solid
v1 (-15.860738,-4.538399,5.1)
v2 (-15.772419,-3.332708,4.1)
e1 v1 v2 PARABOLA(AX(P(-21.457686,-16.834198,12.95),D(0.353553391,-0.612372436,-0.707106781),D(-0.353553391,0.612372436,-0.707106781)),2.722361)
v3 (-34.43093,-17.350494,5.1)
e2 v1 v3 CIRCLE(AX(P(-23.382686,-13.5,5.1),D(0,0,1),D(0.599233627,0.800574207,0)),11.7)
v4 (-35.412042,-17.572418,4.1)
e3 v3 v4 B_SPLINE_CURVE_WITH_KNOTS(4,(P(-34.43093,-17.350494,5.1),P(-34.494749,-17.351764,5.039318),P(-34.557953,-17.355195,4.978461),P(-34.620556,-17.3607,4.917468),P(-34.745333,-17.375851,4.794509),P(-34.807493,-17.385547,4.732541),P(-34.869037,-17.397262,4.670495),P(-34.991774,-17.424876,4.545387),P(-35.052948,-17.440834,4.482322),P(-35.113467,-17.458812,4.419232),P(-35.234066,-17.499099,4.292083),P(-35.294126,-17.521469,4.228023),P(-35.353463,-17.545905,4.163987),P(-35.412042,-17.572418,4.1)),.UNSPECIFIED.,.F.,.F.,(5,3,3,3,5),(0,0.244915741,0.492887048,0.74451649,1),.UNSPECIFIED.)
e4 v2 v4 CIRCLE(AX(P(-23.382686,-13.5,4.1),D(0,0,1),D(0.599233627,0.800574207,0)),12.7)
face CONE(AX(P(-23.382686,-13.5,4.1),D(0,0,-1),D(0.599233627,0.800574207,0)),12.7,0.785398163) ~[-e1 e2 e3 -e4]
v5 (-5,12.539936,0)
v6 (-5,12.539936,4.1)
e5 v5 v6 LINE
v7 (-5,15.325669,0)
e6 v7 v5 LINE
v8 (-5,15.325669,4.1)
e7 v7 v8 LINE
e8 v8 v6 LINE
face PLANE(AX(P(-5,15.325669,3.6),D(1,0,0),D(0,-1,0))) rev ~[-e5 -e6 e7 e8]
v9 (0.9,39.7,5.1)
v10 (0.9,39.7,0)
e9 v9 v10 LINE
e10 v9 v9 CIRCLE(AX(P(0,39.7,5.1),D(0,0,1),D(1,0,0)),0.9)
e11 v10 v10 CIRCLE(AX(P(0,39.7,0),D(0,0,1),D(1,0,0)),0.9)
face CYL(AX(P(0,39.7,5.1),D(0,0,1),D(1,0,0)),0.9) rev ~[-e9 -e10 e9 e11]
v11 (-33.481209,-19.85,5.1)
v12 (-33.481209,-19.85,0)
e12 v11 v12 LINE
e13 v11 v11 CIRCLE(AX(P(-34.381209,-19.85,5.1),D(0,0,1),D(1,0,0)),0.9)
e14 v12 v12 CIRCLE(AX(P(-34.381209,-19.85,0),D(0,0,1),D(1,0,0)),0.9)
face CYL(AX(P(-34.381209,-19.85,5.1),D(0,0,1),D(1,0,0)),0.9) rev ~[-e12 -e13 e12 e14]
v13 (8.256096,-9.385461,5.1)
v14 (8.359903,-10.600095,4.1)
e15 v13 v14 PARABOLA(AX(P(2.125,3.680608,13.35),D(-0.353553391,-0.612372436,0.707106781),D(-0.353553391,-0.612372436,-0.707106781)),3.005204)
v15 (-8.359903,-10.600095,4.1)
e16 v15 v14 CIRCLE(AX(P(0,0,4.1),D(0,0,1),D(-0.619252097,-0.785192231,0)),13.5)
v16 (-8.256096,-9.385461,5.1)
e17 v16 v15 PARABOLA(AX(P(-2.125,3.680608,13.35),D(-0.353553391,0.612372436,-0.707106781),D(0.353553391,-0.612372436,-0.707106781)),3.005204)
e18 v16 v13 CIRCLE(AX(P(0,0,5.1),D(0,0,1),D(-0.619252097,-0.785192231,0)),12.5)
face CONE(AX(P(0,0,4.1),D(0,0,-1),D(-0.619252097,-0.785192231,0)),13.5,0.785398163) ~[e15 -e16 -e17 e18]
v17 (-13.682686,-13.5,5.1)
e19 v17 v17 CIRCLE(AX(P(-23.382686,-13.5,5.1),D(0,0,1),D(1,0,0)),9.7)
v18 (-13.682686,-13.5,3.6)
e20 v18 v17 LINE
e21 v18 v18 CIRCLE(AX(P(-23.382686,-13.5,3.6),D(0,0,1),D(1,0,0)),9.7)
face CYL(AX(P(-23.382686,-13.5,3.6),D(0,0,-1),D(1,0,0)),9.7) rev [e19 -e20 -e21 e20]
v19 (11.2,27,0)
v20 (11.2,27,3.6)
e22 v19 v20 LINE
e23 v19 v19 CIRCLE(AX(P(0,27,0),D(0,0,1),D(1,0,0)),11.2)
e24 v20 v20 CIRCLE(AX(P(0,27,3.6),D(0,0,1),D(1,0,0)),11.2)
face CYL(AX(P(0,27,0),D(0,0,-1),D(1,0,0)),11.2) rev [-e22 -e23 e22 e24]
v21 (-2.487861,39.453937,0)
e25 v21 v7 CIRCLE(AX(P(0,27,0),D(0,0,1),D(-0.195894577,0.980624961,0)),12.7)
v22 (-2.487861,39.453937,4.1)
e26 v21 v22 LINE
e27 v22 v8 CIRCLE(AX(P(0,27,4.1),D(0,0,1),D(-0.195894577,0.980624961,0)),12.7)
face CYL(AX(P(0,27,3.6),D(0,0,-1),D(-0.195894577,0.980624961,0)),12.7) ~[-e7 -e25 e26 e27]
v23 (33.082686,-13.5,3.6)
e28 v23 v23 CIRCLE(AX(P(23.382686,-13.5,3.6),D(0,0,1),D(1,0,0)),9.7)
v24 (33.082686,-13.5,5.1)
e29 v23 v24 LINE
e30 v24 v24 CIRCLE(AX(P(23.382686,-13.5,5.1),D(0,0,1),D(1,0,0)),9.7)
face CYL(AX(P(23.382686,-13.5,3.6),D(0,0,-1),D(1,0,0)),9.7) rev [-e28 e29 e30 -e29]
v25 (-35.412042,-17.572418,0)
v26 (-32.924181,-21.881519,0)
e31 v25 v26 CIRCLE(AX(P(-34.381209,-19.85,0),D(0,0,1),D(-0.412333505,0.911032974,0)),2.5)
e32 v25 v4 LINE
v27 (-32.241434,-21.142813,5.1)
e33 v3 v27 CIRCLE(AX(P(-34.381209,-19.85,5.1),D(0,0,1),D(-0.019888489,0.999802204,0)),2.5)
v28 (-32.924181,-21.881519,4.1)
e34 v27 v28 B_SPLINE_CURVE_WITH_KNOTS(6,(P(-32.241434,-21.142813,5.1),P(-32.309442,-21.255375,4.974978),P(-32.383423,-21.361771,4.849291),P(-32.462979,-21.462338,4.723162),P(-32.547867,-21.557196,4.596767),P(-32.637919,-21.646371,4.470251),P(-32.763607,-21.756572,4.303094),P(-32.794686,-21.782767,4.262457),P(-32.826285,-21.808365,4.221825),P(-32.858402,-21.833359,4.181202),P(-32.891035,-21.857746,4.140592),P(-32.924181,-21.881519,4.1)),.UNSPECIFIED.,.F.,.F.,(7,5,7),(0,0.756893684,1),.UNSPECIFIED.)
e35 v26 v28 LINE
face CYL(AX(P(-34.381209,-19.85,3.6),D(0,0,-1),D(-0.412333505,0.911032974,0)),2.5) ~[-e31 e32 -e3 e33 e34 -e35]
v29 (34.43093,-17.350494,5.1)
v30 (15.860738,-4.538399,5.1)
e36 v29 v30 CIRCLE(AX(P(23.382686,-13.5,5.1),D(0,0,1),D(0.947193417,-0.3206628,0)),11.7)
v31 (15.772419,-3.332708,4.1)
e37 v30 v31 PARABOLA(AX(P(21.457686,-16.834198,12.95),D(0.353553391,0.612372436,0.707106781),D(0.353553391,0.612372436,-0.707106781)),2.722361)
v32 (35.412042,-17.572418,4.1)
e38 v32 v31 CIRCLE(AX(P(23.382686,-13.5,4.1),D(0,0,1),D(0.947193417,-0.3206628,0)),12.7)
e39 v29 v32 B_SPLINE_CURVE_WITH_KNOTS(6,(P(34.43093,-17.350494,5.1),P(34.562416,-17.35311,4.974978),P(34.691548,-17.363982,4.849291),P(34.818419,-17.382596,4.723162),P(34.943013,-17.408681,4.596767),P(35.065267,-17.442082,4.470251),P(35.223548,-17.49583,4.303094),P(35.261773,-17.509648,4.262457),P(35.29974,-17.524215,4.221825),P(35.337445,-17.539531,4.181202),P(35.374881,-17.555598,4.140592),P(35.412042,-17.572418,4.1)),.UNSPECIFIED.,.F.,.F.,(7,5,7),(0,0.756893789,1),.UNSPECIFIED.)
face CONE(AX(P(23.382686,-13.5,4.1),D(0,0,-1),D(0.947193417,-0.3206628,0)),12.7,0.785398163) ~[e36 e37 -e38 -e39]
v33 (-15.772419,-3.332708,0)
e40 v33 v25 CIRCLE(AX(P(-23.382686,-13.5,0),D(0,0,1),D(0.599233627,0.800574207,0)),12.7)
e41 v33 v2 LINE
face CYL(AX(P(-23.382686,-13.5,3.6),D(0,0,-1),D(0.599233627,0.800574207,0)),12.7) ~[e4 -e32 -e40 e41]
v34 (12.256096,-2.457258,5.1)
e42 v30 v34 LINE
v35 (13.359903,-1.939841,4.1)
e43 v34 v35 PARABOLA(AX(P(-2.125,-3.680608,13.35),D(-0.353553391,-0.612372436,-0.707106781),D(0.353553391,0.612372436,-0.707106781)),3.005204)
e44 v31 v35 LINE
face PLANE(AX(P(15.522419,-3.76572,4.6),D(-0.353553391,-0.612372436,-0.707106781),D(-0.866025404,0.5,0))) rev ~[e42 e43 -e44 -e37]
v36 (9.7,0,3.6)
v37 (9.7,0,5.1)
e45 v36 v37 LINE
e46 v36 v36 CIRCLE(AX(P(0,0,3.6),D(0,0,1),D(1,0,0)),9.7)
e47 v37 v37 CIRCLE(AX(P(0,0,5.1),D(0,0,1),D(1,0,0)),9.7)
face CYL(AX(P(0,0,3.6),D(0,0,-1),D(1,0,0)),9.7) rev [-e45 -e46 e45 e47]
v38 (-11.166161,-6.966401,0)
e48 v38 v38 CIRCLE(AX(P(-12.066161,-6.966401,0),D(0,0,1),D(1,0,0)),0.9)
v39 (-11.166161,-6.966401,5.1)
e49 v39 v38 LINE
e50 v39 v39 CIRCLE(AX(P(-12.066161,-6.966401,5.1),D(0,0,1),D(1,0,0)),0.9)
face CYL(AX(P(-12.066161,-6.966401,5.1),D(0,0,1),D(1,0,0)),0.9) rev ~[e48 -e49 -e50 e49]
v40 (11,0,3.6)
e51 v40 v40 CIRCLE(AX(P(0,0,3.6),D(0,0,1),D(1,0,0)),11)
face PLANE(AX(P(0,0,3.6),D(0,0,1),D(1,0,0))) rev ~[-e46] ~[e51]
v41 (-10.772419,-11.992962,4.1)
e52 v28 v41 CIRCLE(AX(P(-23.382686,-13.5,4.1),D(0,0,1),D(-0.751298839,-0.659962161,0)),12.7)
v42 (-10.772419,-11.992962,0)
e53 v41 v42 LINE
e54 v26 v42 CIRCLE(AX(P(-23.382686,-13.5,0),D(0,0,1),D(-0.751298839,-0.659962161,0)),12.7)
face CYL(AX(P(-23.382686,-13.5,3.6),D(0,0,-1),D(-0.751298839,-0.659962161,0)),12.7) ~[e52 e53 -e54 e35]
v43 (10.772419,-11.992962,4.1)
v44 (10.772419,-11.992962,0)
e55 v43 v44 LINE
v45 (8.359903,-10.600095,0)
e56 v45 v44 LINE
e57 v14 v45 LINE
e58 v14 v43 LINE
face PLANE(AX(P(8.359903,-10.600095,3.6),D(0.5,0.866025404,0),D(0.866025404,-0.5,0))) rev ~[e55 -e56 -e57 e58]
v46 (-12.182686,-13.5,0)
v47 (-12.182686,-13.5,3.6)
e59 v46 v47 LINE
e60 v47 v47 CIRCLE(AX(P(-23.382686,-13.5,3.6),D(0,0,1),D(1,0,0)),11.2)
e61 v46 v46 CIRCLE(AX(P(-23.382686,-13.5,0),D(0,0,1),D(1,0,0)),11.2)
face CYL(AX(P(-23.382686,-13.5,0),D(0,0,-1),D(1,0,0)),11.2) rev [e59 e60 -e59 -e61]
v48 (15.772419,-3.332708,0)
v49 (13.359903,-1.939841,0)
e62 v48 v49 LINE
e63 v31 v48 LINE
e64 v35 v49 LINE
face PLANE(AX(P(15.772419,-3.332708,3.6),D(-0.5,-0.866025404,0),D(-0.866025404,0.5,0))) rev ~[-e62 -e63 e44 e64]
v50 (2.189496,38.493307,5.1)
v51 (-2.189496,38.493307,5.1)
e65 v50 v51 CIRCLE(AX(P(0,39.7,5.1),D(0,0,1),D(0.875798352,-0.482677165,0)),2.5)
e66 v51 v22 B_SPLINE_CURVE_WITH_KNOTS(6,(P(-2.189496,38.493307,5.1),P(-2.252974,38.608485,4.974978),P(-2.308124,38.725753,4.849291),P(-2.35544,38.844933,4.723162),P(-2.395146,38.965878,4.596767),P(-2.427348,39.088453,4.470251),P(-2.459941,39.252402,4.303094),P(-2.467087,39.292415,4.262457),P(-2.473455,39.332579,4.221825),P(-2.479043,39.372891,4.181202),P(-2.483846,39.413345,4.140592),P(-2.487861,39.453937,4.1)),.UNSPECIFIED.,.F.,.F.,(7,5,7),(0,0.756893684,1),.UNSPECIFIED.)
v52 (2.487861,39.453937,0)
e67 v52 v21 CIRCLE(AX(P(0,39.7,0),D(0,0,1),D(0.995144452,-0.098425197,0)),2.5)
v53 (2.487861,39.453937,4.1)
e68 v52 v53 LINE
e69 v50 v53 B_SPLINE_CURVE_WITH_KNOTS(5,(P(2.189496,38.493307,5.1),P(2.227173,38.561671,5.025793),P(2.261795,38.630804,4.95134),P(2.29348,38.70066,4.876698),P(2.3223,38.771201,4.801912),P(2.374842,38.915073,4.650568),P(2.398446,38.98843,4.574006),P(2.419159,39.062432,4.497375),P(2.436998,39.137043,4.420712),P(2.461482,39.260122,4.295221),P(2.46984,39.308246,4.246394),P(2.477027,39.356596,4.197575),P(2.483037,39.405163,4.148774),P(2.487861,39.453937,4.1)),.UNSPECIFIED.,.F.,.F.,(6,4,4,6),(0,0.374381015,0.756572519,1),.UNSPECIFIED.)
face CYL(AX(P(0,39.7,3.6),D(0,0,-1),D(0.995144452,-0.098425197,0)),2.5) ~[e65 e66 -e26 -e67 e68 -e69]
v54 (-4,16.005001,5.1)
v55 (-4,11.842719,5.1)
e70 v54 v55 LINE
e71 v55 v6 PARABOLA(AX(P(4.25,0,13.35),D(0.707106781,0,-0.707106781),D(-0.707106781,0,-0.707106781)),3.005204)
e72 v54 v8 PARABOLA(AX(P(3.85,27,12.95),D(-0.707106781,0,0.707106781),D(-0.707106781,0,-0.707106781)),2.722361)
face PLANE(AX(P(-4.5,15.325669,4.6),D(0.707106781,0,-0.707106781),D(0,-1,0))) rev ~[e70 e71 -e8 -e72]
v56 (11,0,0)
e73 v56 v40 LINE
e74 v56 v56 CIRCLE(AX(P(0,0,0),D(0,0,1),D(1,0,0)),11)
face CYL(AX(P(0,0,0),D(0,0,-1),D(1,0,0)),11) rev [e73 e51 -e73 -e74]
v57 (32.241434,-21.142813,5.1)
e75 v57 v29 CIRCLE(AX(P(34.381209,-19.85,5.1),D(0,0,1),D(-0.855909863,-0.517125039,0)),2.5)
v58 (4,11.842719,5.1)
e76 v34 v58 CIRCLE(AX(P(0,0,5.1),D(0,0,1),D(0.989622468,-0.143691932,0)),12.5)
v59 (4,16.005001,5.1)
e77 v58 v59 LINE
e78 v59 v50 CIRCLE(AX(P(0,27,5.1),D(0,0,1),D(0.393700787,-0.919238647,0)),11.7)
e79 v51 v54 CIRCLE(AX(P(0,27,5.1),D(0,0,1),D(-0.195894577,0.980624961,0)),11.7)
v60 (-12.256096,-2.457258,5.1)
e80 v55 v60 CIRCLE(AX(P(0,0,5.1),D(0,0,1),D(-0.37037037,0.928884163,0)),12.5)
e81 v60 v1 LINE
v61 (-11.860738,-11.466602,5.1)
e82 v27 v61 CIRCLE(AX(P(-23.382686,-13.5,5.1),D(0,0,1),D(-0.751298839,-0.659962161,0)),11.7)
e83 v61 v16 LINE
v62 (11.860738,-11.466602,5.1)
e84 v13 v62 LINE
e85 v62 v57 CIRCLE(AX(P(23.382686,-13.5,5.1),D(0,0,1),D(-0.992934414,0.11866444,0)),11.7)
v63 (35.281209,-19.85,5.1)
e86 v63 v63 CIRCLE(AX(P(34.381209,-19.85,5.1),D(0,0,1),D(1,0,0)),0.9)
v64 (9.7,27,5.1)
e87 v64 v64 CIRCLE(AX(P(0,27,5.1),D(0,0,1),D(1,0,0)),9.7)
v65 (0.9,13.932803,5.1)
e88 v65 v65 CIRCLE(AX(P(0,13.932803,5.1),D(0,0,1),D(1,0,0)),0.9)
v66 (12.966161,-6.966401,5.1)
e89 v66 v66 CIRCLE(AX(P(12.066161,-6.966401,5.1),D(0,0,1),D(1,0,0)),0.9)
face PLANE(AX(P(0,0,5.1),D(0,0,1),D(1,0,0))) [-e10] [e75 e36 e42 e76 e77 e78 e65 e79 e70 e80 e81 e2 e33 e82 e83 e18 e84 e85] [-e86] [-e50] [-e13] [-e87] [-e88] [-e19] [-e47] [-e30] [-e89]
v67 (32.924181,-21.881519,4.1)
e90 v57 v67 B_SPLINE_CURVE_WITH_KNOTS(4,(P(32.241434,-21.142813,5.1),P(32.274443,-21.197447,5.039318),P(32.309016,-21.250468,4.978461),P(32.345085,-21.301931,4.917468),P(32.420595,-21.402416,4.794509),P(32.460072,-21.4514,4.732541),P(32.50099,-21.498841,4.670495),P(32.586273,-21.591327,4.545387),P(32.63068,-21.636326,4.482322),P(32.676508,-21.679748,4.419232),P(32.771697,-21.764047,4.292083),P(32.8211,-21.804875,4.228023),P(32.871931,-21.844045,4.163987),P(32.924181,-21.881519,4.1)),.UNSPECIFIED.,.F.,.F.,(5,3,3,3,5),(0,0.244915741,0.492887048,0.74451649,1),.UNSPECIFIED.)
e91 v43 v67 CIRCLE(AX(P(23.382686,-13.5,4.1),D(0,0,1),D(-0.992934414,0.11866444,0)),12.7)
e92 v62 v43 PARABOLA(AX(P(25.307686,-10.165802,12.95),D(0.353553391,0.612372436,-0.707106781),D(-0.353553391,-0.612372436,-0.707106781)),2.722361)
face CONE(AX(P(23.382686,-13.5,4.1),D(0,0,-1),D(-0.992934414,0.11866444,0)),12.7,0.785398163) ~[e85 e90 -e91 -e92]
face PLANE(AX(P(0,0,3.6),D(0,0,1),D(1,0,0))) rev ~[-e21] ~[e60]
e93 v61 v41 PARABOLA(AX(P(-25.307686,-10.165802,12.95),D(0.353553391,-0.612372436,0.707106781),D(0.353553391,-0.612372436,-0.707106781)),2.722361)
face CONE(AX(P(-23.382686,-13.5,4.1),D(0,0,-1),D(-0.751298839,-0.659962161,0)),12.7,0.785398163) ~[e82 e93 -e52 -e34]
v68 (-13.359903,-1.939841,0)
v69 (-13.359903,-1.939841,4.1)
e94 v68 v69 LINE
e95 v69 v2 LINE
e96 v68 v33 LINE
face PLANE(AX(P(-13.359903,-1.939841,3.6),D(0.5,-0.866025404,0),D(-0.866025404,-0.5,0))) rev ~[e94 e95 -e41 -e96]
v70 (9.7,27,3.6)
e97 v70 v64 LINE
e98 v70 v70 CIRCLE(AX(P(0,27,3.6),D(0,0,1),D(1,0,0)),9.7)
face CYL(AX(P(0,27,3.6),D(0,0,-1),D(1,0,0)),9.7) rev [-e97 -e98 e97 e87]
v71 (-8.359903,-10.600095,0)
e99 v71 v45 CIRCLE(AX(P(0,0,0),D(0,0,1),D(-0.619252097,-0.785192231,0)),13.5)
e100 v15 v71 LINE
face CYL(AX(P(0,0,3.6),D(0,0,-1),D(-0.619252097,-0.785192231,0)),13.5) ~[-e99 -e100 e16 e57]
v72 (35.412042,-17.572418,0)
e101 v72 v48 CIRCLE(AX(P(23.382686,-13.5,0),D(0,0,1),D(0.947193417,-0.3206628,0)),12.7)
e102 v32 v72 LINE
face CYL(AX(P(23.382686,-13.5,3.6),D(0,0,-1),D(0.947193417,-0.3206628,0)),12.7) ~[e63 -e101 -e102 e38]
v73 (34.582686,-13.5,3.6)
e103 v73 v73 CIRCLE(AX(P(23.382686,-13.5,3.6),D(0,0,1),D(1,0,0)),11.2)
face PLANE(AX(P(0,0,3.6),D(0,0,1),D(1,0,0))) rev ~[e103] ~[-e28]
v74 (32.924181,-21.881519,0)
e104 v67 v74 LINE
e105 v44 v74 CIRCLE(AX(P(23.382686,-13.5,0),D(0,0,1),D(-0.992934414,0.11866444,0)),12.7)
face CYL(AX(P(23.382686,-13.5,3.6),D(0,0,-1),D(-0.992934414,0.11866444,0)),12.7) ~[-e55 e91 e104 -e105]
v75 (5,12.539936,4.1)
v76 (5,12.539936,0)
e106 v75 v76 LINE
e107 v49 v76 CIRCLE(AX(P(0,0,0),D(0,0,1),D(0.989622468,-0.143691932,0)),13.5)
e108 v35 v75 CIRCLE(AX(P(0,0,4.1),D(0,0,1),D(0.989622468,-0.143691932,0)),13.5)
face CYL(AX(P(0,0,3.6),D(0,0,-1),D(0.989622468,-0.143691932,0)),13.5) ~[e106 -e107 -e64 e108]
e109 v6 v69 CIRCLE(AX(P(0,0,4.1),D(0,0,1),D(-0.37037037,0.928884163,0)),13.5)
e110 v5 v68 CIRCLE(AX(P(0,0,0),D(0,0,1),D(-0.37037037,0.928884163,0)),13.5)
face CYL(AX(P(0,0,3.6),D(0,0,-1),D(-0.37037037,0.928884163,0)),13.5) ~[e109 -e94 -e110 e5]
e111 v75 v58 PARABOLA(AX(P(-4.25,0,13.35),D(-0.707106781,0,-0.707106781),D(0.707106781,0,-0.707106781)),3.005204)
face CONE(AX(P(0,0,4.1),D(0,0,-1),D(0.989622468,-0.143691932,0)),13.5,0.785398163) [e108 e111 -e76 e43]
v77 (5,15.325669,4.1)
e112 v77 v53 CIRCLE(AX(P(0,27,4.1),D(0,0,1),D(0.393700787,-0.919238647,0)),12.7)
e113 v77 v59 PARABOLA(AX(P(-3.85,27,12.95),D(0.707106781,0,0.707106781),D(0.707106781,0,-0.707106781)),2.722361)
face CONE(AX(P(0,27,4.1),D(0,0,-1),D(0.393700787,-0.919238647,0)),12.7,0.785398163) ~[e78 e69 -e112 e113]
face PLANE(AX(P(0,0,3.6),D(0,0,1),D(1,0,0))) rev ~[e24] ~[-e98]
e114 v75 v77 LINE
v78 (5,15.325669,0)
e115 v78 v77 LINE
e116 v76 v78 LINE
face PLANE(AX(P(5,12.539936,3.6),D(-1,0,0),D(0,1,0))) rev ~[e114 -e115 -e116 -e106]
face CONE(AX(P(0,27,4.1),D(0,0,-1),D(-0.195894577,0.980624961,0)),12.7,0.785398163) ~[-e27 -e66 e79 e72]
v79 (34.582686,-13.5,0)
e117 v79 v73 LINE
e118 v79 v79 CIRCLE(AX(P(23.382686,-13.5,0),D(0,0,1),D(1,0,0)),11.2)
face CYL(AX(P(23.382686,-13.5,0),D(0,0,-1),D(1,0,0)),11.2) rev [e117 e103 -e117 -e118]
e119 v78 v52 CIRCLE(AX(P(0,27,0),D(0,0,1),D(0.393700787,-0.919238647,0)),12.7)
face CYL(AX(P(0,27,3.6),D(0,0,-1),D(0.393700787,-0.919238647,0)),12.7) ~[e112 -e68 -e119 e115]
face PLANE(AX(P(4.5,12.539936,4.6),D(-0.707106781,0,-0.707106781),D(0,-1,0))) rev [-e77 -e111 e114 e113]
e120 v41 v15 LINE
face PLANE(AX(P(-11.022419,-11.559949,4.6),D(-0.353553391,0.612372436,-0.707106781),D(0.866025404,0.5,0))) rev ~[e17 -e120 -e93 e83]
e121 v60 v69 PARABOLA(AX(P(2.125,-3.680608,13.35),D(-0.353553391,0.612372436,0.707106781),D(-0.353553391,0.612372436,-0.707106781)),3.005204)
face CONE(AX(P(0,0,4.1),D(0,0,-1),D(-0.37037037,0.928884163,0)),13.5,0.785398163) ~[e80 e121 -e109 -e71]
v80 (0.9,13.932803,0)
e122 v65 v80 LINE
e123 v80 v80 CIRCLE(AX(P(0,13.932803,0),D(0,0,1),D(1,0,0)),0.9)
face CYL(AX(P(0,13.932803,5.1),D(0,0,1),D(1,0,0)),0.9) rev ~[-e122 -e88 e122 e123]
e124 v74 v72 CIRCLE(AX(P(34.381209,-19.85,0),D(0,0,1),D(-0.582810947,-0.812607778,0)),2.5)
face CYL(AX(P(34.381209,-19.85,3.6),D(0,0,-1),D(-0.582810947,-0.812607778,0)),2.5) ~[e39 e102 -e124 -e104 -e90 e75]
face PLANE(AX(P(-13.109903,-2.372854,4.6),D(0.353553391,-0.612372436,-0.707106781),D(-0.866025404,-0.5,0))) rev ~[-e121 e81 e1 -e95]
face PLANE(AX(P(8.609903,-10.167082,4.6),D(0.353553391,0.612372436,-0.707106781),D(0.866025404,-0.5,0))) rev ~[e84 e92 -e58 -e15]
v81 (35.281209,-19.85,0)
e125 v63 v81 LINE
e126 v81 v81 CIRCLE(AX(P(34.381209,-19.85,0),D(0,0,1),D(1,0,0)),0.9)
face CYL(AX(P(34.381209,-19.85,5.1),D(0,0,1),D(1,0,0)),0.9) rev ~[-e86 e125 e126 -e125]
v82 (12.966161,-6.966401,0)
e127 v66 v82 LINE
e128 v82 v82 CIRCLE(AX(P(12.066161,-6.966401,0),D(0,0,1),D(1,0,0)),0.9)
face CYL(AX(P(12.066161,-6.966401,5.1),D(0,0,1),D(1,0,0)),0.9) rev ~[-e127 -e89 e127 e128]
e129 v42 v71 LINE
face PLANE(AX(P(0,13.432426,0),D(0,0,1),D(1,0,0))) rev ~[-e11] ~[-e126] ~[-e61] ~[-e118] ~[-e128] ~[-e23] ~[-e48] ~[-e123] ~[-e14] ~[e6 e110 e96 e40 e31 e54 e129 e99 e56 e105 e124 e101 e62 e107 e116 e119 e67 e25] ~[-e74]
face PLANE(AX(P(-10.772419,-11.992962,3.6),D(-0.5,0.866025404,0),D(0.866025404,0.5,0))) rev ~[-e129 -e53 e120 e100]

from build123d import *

# Parameters (mm, degrees)
F0_R     = 11
F0_R_2   = 11.2
F1_DEPTH = 3.6
F2_R     = 11.2
F2_R_2   = 11
F2_R_3   = 9.7
F3_DEPTH = 1.5
F5_R     = 0.9
F6_DEPTH = 5.1
F7_SIZE  = 1


with BuildPart() as f1:
    # F0 (on Top) → F1 (new body)
    with BuildSketch(Plane.XY):
        with BuildLine():
            ThreePointArc((-2.4878611303, 39.4539370079), (-12.6317197215, 28.3151642022), (-5, 15.3256691841))
            Line((-5, 15.3256691841), (-5, 12.539936204))
            ThreePointArc((-5, 12.539936204), (-11.6913429511, 6.75), (-13.3599033145, -1.9398410831))
            ThreePointArc((-13.3599033145, -1.9398410831), (-11.6913429511, -6.75), (-8.3599033145, -10.6000951209))
            ThreePointArc((-8.3599033145, -10.6000951209), (0, -13.5), (8.3599033145, -10.6000951209))
            ThreePointArc((8.3599033145, -10.6000951209), (11.6913429511, -6.75), (13.3599033145, -1.9398410831))
            ThreePointArc((13.3599033145, -1.9398410831), (11.6913429511, 6.75), (5, 12.539936204))
            Line((5, 12.539936204), (5, 15.3256691841))
            ThreePointArc((5, 15.3256691841), (12.6317197215, 28.3151642022), (2.4878611303, 39.4539370079))
            ThreePointArc((2.4878611303, 39.4539370079), (0, 42.2), (-2.4878611303, 39.4539370079))
        make_face()
        Circle(F0_R, mode=Mode.SUBTRACT)
        with Locations((0, 27)):
            Circle(F0_R_2, mode=Mode.SUBTRACT)
        with BuildLine():
            ThreePointArc((-8.3599033145, -10.6000951209), (-11.6913429511, -6.75), (-13.3599033145, -1.9398410831))
            Line((-13.3599033145, -1.9398410831), (-15.7724188434, -3.3327075731))
            ThreePointArc((-15.7724188434, -3.3327075731), (-30.8375113722, -3.2181919288), (-35.4120422933, -17.572417564))
            ThreePointArc((-35.4120422933, -17.572417564), (-36.5462720397, -21.1), (-32.924181163, -21.8815194439))
            ThreePointArc((-32.924181163, -21.8815194439), (-18.2057916507, -25.0969722734), (-10.7724188434, -11.992961611))
            Line((-10.7724188434, -11.992961611), (-8.3599033145, -10.6000951209))
        make_face()
        with Locations((-23.3826859022, -13.5)):
            Circle(F0_R_2, mode=Mode.SUBTRACT)
        with BuildLine():
            ThreePointArc((13.3599033145, -1.9398410831), (11.6913429511, -6.75), (8.3599033145, -10.6000951209))
            Line((8.3599033145, -10.6000951209), (10.7724188434, -11.992961611))
            ThreePointArc((10.7724188434, -11.992961611), (18.2057916507, -25.0969722734), (32.924181163, -21.8815194439))
            ThreePointArc((32.924181163, -21.8815194439), (36.5462720397, -21.1), (35.4120422933, -17.572417564))
            ThreePointArc((35.4120422933, -17.572417564), (30.8375113722, -3.2181919288), (15.7724188434, -3.3327075731))
            Line((15.7724188434, -3.3327075731), (13.3599033145, -1.9398410831))
        make_face()
        with Locations((23.3826859022, -13.5)):
            Circle(F0_R_2, mode=Mode.SUBTRACT)
    extrude(amount=F1_DEPTH)

    # F2 (on face) → F3 (join)
    with BuildSketch(Plane.XY.offset(3.6)):
        with BuildLine():
            Line((5, 12.539936204), (5, 15.3256691841))
            ThreePointArc((5, 15.3256691841), (12.6317197215, 28.3151642022), (2.4878611303, 39.4539370079))
            ThreePointArc((2.4878611303, 39.4539370079), (0, 42.2), (-2.4878611303, 39.4539370079))
            ThreePointArc((-2.4878611303, 39.4539370079), (-12.6317197215, 28.3151642022), (-5, 15.3256691841))
            Line((-5, 15.3256691841), (-5, 12.539936204))
            ThreePointArc((-5, 12.539936204), (-11.6913429511, 6.75), (-13.3599033145, -1.9398410831))
            Line((-13.3599033145, -1.9398410831), (-15.7724188434, -3.3327075731))
            ThreePointArc((-15.7724188434, -3.3327075731), (-30.8375113722, -3.2181919288), (-35.4120422933, -17.572417564))
            ThreePointArc((-35.4120422933, -17.572417564), (-36.5462720397, -21.1), (-32.924181163, -21.8815194439))
            ThreePointArc((-32.924181163, -21.8815194439), (-18.2057916507, -25.0969722734), (-10.7724188434, -11.992961611))
            Line((-10.7724188434, -11.992961611), (-8.3599033145, -10.6000951209))
            ThreePointArc((-8.3599033145, -10.6000951209), (0, -13.5), (8.3599033145, -10.6000951209))
            Line((8.3599033145, -10.6000951209), (10.7724188434, -11.992961611))
            ThreePointArc((10.7724188434, -11.992961611), (18.2057916507, -25.0969722734), (32.924181163, -21.8815194439))
            ThreePointArc((32.924181163, -21.8815194439), (36.5462720397, -21.1), (35.4120422933, -17.572417564))
            ThreePointArc((35.4120422933, -17.572417564), (30.8375113722, -3.2181919288), (15.7724188434, -3.3327075731))
            Line((15.7724188434, -3.3327075731), (13.3599033145, -1.9398410831))
            ThreePointArc((13.3599033145, -1.9398410831), (11.6913429511, 6.75), (5, 12.539936204))
        make_face()
        with Locations((-23.3826859022, -13.5)):
            Circle(F2_R, mode=Mode.SUBTRACT)
        with Locations((23.3826859022, -13.5)):
            Circle(F2_R, mode=Mode.SUBTRACT)
        Circle(F2_R_2, mode=Mode.SUBTRACT)
        with Locations((0, 27)):
            Circle(F2_R, mode=Mode.SUBTRACT)
        with Locations((0, 27)):
            Circle(F2_R)
        with Locations((0, 27)):
            Circle(F2_R_3, mode=Mode.SUBTRACT)
        with Locations((-23.3826859022, -13.5)):
            Circle(F2_R)
        with Locations((-23.3826859022, -13.5)):
            Circle(F2_R_3, mode=Mode.SUBTRACT)
        with Locations((23.3826859022, -13.5)):
            Circle(F2_R)
        with Locations((23.3826859022, -13.5)):
            Circle(F2_R_3, mode=Mode.SUBTRACT)
        Circle(F2_R_2)
        Circle(F2_R_3, mode=Mode.SUBTRACT)
    extrude(amount=F3_DEPTH)

    # F5 (on face) → F6 (cut, through all)
    with BuildSketch(Plane.XY.offset(5.1)):
        with Locations((0, 39.7)):
            Circle(F5_R)
        with Locations((0, 13.932802694)):
            Circle(F5_R)
        with Locations((-12.0661610789, -6.966401347)):
            Circle(F5_R)
        with Locations((-34.3812085302, -19.85)):
            Circle(F5_R)
        with Locations((12.0661610789, -6.966401347)):
            Circle(F5_R)
        with Locations((34.3812085302, -19.85)):
            Circle(F5_R)
    extrude(amount=-F6_DEPTH, mode=Mode.SUBTRACT)

    # F7
    f7_edges = [f1.edges().sort_by_distance(p)[0] for p in [
        (-18.205792, -25.096972, 5.1),
        (-9.566161, -11.296528, 5.1),
        (0, -13.5, 5.1),
        (9.566161, -11.296528, 5.1),
        (18.205792, -25.096972, 5.1),
        (30.837511, -3.218192, 5.1),
        (14.566161, -2.636274, 5.1),
        (11.691343, 6.75, 5.1),
        (5, 13.932803, 5.1),
        (12.63172, 28.315164, 5.1),
        (-12.63172, 28.315164, 5.1),
        (-5, 13.932803, 5.1),
        (-11.691343, 6.75, 5.1),
        (-14.566161, -2.636274, 5.1),
        (-30.837511, -3.218192, 5.1),
    ]]
    chamfer(f7_edges, length=F7_SIZE)


solid = f1.part
